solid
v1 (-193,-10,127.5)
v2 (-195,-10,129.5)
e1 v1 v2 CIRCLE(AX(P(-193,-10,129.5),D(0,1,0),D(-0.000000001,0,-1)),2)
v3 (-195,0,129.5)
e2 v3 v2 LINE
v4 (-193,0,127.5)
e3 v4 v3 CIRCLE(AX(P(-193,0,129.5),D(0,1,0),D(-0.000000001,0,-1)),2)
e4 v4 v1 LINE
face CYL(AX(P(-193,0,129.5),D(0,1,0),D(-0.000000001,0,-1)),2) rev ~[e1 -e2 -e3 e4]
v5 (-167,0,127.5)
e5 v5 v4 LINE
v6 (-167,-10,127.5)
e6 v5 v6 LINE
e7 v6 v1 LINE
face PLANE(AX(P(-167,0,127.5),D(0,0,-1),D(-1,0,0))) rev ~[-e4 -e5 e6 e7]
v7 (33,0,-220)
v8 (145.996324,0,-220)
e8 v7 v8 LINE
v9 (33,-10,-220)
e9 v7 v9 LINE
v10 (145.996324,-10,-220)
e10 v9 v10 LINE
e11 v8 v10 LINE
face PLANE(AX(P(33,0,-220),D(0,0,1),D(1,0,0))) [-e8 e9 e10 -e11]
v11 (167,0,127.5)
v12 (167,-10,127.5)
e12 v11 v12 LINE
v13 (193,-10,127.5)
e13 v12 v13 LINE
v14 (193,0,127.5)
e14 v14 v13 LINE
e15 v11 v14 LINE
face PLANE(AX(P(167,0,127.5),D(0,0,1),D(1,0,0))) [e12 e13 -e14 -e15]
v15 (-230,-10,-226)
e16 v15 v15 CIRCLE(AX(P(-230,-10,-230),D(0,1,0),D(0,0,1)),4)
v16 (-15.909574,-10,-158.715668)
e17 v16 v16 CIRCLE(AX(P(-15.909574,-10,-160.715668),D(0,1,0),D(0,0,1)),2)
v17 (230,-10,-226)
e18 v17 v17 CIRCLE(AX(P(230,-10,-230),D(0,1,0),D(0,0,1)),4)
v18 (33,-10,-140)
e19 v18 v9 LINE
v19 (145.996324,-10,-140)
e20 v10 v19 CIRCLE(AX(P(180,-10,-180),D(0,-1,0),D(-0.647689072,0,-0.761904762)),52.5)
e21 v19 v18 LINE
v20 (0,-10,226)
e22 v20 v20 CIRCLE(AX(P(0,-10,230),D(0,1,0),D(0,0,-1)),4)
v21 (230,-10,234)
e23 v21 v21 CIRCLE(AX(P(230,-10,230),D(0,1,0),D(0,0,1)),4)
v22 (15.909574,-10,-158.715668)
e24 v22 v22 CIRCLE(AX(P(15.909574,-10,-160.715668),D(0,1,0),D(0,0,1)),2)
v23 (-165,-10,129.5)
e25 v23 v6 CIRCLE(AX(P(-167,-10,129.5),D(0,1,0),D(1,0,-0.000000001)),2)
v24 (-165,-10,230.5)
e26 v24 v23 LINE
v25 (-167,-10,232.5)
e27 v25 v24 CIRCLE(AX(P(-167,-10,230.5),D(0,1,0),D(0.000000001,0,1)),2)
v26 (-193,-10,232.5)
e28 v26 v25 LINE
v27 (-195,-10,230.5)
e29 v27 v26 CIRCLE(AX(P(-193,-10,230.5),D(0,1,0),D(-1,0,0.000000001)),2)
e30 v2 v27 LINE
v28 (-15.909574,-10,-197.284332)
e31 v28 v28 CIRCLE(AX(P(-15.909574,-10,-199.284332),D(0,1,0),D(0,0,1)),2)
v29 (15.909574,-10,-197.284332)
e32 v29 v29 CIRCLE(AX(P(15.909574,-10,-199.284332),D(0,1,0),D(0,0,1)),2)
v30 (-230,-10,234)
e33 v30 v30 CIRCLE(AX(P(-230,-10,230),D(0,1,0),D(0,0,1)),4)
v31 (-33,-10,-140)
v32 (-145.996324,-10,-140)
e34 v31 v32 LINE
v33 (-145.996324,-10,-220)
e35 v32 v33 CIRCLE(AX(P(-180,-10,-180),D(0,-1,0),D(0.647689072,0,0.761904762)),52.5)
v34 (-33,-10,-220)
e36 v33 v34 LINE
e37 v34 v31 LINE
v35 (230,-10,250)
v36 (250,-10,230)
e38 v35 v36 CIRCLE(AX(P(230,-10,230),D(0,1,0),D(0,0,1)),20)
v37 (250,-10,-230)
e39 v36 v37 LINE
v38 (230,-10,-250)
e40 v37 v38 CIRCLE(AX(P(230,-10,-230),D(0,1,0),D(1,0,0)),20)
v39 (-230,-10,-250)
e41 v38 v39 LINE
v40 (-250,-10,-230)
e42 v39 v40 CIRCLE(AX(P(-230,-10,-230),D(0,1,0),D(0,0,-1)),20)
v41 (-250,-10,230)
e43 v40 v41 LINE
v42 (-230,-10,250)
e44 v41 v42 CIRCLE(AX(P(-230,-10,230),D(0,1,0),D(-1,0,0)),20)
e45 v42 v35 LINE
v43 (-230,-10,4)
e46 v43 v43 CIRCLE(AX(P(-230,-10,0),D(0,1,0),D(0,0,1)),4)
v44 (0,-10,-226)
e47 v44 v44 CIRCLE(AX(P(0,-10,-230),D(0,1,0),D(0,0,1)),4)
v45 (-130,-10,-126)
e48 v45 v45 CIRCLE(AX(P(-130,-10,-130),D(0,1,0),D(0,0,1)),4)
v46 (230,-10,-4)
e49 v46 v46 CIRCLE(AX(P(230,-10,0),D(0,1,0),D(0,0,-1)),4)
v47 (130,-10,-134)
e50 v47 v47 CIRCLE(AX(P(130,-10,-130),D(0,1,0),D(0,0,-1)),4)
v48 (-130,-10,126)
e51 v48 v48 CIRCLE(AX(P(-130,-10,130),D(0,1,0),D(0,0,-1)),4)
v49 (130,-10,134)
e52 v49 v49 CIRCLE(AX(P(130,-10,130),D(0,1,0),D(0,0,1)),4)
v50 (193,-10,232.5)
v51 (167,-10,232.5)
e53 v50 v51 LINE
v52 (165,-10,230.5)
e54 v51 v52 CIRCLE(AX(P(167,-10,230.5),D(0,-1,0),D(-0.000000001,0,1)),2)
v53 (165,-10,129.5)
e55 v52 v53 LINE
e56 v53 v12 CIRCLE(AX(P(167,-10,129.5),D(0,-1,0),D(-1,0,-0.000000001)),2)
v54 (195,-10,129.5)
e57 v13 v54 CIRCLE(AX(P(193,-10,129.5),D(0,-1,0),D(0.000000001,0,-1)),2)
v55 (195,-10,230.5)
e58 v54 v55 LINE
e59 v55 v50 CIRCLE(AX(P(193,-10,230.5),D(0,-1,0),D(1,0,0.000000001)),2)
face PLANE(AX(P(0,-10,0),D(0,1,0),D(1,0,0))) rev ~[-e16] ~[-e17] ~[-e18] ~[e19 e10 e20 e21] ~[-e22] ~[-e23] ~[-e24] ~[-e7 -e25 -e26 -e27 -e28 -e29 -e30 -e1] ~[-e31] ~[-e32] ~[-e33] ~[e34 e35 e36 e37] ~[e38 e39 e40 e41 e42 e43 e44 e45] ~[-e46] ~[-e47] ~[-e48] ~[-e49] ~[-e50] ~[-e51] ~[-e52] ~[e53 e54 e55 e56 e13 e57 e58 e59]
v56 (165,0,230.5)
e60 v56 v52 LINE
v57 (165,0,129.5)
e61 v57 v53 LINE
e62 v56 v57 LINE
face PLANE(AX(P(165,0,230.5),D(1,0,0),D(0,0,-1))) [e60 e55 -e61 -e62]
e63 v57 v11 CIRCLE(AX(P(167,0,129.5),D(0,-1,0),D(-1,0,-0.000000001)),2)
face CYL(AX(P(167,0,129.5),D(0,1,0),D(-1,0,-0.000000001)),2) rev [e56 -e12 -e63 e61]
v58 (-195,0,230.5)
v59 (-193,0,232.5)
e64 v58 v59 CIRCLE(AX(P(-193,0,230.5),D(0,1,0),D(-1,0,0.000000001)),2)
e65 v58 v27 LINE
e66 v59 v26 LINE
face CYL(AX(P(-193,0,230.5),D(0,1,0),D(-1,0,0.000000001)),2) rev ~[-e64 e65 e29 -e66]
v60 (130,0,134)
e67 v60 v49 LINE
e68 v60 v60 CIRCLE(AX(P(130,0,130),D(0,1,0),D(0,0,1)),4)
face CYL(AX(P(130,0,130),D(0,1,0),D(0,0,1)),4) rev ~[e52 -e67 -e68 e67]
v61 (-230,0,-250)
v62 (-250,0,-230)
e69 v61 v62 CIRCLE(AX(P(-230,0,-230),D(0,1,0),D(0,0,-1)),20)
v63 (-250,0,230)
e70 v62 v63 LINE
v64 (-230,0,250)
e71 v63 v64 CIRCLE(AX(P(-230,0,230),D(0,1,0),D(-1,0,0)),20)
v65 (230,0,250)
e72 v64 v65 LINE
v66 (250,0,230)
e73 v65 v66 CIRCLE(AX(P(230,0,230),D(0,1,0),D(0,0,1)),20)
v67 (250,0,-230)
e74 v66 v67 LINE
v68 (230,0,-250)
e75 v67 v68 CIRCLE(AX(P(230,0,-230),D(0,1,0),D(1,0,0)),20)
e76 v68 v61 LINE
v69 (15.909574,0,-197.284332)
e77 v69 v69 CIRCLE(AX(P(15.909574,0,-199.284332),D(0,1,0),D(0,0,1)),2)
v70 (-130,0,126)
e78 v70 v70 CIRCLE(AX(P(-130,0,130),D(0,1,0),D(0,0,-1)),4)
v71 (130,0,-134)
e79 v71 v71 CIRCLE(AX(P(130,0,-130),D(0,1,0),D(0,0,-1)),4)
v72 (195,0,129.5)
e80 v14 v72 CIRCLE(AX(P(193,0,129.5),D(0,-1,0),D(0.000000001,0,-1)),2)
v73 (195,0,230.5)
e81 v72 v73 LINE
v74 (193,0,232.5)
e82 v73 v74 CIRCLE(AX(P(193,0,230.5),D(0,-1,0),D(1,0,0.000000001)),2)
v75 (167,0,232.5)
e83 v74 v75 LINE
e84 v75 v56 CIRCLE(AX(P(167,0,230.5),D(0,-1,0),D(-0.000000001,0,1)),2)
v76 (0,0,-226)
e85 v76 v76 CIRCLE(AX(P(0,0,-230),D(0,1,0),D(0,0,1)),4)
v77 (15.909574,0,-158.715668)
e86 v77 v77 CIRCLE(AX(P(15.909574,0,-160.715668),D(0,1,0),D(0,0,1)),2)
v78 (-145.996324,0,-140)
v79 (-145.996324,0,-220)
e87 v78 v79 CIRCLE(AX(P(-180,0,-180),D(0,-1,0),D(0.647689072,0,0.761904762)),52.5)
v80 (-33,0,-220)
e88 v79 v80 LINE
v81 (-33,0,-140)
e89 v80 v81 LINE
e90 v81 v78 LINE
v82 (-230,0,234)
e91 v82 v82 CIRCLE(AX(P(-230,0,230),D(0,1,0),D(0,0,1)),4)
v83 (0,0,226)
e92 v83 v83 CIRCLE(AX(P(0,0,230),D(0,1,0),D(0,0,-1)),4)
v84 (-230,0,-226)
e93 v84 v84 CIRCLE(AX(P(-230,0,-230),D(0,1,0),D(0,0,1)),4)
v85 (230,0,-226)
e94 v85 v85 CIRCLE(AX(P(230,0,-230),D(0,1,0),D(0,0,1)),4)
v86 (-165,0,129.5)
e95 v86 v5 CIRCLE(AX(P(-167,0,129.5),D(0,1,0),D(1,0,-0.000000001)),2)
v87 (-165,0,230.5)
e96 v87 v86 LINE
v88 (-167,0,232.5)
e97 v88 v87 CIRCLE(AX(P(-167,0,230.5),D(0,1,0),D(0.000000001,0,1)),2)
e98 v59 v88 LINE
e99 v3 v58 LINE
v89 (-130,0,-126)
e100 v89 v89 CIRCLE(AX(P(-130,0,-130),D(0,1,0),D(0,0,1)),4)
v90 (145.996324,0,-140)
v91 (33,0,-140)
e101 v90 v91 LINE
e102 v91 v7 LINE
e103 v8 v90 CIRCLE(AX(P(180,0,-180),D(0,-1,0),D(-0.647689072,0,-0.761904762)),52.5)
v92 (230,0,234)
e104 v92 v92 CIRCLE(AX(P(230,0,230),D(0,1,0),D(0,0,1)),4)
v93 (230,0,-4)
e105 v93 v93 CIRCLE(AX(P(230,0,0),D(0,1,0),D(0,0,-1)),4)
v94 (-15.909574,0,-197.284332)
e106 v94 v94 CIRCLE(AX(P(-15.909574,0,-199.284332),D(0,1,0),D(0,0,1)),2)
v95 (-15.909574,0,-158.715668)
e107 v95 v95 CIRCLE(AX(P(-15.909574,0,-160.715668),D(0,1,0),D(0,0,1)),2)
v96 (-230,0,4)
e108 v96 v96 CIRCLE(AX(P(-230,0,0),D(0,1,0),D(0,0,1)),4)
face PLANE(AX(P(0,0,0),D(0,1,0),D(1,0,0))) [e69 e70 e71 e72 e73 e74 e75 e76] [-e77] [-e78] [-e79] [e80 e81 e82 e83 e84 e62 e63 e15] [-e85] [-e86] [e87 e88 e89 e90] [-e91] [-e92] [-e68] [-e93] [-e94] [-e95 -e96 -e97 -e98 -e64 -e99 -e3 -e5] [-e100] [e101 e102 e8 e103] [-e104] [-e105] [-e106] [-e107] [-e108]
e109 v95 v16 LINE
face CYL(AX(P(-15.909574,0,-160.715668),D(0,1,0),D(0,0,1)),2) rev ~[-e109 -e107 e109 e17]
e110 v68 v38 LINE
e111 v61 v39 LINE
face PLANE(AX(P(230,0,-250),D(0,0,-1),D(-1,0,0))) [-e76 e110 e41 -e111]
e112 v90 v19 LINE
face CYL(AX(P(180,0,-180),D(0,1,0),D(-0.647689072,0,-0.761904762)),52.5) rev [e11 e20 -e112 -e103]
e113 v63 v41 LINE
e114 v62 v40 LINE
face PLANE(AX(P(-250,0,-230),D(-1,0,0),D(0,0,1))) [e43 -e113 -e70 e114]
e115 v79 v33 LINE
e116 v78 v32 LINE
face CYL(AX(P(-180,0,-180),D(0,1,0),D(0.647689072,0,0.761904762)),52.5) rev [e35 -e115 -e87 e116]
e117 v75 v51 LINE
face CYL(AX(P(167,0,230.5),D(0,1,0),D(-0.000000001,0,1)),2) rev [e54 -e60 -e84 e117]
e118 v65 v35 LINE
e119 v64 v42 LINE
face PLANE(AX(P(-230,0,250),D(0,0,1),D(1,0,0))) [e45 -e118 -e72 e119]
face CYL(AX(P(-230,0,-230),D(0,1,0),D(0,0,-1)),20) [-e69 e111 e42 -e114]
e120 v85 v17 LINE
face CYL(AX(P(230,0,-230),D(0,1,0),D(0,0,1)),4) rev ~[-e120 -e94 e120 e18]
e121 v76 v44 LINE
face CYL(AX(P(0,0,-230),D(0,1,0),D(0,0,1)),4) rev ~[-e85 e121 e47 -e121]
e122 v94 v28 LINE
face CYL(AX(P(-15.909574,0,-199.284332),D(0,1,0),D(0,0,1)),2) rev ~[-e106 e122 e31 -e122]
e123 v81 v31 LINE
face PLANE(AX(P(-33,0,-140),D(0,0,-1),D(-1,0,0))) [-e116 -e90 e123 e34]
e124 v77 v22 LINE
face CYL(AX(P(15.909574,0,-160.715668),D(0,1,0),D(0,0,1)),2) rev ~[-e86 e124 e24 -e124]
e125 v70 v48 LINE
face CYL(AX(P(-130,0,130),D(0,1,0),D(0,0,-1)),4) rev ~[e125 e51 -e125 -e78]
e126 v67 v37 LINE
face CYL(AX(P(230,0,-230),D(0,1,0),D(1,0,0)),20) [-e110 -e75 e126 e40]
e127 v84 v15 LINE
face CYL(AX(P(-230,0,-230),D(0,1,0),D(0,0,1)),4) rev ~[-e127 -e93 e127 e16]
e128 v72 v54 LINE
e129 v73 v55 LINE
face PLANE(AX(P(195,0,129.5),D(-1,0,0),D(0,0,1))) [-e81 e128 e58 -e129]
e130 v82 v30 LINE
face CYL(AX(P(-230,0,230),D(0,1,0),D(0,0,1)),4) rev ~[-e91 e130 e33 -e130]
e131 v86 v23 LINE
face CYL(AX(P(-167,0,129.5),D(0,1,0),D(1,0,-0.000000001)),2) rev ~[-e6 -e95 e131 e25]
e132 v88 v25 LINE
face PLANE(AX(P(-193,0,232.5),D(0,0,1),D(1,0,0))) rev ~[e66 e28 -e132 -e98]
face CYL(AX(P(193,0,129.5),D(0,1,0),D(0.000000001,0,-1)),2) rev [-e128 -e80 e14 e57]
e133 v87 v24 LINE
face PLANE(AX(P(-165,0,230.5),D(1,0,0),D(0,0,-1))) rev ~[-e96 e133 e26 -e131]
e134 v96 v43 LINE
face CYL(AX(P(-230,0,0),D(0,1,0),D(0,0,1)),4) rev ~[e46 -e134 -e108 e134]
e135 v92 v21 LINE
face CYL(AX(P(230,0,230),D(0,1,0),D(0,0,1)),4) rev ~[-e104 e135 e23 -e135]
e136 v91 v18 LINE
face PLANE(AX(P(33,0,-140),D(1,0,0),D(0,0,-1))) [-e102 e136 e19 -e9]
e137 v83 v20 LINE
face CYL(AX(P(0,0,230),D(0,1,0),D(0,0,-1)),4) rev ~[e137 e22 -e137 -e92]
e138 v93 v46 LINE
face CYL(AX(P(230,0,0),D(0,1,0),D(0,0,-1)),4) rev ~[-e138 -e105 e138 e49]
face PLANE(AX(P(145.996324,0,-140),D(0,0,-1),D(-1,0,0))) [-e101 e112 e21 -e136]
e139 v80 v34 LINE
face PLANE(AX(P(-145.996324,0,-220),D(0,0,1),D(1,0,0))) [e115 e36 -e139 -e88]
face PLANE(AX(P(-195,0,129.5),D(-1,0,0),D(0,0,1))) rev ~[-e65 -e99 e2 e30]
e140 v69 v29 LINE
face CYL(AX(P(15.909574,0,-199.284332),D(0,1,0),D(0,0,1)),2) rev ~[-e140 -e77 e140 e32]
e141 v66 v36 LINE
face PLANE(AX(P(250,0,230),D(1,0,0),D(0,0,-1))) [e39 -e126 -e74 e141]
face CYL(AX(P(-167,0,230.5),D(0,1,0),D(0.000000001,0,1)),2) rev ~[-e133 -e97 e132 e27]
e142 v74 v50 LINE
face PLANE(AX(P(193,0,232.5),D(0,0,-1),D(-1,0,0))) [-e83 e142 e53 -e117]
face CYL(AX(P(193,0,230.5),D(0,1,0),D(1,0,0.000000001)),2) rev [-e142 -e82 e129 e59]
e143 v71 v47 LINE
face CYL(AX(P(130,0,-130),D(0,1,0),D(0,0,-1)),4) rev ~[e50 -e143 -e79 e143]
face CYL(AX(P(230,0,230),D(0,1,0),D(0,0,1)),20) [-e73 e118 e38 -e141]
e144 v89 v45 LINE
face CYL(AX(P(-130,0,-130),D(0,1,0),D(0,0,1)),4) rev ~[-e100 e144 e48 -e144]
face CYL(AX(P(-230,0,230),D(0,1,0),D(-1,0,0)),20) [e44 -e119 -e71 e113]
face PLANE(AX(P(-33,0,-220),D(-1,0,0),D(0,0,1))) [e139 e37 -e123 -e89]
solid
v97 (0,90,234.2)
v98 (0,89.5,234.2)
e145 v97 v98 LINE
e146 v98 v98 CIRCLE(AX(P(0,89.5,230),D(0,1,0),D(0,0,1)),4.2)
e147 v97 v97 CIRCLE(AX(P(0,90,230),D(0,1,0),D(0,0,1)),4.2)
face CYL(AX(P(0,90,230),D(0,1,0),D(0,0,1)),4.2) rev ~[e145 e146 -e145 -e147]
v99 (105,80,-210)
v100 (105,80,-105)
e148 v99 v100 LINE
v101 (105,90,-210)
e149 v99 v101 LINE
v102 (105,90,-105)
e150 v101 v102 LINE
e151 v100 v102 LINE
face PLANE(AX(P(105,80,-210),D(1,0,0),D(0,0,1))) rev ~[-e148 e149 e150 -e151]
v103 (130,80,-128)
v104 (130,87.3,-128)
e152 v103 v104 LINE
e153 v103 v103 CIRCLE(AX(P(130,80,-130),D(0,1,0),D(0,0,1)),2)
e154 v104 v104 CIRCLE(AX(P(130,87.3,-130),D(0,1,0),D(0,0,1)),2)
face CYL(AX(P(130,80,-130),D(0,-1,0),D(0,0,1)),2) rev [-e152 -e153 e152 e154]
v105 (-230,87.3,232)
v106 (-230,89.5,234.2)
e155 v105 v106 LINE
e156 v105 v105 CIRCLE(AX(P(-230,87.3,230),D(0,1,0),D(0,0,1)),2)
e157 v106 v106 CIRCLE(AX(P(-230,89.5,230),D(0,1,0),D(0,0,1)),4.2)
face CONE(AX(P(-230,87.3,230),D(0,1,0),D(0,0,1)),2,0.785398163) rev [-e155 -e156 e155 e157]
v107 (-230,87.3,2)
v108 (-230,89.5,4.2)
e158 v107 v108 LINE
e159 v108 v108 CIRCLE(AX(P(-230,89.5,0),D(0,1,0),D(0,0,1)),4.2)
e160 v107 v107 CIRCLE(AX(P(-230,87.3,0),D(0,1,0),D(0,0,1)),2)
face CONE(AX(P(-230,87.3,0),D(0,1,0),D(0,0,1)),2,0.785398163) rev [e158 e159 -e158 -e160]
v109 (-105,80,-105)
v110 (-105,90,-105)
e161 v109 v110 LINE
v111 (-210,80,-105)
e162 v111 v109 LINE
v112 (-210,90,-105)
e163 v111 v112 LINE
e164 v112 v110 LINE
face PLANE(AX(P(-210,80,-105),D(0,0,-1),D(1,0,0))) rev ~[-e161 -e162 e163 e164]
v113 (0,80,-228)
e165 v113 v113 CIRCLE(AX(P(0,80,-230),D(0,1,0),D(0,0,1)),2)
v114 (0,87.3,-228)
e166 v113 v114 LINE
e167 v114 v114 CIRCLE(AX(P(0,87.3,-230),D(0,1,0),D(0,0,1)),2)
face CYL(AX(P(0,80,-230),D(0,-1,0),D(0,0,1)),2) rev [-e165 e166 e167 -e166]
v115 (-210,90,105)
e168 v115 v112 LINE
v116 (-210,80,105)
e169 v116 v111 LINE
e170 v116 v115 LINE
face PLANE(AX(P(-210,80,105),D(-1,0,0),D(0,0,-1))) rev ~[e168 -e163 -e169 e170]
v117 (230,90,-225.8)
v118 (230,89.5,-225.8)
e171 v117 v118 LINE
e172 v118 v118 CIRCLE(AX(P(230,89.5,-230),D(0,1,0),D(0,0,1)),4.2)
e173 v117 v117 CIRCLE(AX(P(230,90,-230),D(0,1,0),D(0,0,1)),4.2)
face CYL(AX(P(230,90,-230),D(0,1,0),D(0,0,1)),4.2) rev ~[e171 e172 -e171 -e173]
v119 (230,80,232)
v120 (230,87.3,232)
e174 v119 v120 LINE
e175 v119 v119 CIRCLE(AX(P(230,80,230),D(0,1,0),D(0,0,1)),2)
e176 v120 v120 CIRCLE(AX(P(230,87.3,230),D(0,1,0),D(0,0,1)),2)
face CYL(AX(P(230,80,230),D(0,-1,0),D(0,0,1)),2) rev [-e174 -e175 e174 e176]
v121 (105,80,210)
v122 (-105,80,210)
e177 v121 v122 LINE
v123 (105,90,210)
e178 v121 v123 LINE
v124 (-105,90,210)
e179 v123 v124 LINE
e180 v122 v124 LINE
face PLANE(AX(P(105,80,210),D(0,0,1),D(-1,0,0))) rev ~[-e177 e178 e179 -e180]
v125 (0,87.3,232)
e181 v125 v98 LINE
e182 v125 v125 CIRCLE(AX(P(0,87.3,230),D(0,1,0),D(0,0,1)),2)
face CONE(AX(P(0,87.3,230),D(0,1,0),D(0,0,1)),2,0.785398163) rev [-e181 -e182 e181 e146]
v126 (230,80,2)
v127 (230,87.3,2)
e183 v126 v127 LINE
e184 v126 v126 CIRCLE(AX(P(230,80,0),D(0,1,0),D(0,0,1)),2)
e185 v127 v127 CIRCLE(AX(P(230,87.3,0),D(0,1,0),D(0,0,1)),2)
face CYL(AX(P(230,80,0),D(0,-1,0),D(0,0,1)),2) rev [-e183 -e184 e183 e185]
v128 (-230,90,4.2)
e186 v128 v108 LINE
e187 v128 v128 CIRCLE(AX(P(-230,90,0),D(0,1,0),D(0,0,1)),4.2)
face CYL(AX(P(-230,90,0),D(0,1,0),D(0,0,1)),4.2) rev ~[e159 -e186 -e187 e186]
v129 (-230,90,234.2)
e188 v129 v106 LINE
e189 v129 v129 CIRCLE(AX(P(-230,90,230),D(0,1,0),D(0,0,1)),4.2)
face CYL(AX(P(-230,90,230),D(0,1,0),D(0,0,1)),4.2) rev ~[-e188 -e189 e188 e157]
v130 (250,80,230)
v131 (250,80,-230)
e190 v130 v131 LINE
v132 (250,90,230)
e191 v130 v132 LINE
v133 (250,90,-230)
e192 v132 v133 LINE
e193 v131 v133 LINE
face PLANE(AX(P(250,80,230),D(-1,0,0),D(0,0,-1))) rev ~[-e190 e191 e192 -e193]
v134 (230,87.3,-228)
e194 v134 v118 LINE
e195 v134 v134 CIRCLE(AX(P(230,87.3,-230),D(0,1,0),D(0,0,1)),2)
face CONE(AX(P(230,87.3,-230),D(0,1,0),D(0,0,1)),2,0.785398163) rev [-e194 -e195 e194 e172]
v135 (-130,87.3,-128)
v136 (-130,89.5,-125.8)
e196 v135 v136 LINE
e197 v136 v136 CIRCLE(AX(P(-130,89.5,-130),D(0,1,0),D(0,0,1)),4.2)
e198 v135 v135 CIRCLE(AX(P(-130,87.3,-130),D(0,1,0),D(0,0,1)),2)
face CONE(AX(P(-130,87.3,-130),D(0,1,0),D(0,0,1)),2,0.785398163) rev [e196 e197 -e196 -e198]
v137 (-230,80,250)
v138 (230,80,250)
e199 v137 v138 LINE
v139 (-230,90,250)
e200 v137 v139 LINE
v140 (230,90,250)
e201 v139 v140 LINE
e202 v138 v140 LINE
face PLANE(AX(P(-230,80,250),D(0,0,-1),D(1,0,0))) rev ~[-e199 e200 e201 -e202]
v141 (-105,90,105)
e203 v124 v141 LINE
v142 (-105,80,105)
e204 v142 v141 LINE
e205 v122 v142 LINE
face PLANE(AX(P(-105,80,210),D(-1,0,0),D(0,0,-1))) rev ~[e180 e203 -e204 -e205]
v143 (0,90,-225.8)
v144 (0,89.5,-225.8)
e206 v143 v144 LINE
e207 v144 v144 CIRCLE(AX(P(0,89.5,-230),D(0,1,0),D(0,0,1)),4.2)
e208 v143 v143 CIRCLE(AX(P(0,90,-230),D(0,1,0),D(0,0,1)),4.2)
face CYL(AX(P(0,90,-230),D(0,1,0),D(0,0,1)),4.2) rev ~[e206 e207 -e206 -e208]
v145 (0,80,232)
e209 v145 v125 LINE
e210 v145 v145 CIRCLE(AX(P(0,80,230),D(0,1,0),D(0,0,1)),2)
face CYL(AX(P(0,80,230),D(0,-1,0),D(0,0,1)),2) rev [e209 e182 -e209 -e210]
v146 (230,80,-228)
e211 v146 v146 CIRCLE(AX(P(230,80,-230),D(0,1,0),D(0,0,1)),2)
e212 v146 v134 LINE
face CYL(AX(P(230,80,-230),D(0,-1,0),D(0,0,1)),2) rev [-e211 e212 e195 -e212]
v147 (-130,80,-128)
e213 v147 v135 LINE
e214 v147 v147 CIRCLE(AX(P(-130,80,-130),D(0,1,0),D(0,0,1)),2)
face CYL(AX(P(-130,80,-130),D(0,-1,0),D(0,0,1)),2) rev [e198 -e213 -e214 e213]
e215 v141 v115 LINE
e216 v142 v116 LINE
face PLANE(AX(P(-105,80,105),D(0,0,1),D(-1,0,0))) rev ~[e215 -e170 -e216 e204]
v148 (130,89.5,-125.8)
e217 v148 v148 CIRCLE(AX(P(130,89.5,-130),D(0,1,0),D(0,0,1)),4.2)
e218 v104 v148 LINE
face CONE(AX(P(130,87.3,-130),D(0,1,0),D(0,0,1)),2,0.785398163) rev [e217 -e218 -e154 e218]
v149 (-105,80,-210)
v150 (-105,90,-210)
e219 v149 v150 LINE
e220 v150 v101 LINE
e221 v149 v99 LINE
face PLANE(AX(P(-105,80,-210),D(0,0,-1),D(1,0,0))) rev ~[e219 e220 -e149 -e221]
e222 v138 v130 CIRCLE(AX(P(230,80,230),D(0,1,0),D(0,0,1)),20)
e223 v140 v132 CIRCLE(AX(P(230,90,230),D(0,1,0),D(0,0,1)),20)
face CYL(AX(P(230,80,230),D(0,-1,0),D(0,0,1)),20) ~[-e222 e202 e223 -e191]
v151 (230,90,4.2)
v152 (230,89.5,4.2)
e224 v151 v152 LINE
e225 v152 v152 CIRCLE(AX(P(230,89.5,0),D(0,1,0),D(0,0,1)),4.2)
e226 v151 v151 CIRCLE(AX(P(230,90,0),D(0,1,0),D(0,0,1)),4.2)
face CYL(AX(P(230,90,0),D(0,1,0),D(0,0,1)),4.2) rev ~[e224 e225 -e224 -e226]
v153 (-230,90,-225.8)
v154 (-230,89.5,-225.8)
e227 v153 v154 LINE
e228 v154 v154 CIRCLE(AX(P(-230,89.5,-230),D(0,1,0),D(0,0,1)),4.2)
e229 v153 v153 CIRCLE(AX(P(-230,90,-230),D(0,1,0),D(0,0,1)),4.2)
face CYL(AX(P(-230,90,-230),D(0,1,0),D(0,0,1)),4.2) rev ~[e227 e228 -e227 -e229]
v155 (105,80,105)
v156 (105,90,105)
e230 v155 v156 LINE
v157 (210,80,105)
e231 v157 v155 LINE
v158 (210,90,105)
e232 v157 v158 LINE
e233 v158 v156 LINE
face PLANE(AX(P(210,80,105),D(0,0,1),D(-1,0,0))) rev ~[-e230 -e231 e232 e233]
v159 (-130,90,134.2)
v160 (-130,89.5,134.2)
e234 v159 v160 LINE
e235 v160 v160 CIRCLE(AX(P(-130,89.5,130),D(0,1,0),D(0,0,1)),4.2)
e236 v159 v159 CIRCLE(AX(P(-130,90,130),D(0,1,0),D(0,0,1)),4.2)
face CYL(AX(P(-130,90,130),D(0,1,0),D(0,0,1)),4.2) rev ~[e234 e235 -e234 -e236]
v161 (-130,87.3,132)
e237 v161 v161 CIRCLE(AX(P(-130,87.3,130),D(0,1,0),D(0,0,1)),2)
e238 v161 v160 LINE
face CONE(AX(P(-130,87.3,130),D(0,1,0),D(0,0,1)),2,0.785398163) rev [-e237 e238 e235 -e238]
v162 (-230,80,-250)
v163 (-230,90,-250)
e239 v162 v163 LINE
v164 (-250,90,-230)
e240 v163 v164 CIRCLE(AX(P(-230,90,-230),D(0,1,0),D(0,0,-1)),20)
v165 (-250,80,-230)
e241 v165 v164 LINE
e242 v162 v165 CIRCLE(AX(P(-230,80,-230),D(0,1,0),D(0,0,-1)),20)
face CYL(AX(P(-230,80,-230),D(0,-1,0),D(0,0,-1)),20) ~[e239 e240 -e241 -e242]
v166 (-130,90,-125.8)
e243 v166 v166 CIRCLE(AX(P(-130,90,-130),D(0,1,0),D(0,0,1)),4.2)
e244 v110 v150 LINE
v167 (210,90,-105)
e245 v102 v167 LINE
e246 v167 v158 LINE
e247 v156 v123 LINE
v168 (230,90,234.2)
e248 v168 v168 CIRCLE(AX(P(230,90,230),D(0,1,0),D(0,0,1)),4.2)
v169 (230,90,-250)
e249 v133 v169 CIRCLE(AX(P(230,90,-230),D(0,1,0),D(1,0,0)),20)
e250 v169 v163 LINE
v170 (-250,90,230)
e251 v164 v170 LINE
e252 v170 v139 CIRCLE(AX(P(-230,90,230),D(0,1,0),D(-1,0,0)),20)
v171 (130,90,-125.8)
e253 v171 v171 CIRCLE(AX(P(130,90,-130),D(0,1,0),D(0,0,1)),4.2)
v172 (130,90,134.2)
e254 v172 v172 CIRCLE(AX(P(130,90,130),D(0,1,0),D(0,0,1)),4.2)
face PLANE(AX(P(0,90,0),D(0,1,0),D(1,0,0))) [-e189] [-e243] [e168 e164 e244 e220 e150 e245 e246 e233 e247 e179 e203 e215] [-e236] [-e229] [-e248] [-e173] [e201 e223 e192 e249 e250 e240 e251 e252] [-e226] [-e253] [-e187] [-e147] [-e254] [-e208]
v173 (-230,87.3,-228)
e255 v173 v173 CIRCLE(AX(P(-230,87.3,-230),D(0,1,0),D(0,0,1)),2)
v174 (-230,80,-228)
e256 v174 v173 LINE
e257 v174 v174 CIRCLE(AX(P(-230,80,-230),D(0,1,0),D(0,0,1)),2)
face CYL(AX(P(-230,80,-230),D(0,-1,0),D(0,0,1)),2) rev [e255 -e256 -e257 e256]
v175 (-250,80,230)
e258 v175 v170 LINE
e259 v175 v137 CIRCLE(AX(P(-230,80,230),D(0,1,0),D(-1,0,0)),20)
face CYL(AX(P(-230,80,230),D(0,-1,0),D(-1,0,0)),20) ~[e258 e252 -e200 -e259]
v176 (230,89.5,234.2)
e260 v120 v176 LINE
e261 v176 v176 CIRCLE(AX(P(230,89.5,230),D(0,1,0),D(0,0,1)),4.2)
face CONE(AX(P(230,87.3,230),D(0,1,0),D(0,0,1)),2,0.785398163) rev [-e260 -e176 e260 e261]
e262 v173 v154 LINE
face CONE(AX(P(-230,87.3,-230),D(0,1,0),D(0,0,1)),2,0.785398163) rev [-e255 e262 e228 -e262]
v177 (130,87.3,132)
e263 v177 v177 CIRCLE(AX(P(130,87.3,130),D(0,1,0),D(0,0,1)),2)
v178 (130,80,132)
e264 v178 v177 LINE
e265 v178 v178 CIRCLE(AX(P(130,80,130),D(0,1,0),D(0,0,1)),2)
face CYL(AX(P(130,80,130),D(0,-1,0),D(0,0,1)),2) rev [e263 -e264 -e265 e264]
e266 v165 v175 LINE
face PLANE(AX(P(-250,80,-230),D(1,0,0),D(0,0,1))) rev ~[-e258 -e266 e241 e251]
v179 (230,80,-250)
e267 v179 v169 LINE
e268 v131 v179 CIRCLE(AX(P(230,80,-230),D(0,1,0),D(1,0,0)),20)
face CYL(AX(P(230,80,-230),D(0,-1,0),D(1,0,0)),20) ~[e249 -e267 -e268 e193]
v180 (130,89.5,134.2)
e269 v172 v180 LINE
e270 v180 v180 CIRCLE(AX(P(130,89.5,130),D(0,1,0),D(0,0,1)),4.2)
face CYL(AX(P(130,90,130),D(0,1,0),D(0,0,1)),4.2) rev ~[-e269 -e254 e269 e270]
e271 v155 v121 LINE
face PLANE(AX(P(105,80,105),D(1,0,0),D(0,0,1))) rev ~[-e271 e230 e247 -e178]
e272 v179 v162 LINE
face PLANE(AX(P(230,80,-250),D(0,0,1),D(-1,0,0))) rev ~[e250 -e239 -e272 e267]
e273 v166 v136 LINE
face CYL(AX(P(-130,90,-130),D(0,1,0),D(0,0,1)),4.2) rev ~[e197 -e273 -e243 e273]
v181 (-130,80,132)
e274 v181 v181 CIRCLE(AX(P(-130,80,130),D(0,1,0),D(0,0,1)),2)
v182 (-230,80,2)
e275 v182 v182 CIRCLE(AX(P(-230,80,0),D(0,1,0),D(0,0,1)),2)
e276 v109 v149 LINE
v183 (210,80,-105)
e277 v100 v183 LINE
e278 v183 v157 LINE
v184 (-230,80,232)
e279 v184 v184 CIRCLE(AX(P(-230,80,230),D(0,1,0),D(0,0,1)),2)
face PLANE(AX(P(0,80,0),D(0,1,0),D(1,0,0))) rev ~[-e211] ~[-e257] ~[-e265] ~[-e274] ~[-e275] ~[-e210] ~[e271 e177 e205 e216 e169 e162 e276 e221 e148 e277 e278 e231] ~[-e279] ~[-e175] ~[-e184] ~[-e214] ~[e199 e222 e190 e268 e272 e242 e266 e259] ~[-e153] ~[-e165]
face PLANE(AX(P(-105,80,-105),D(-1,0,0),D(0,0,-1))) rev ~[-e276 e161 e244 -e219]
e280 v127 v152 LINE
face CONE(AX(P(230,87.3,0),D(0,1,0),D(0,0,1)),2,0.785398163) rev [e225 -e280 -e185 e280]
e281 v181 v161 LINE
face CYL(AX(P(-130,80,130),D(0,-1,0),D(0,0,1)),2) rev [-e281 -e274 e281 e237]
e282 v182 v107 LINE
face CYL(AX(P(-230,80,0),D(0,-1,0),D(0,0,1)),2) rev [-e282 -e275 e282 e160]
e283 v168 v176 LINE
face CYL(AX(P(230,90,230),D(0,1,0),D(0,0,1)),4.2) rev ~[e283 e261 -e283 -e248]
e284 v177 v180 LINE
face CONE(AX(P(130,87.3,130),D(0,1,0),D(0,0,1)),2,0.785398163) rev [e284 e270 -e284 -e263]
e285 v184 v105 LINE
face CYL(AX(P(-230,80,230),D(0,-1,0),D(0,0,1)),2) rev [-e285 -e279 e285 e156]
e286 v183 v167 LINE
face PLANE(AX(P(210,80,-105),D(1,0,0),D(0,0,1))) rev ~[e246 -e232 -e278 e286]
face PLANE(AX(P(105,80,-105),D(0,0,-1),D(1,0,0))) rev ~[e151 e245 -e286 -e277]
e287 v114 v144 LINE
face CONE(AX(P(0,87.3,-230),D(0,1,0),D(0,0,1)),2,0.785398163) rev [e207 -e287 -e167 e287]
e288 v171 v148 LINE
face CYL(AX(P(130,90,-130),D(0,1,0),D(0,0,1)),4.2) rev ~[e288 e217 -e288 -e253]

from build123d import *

# Parameters (mm, degrees)
SKETCH1_R                     = 4
SKETCH1_R_2                   = 2
BOSS_EXTRUDE1_DEPTH           = 10
SKETCH3_R                     = 2
BOSS_EXTRUDE2_DEPTH           = 10
SKETCH8_R                     = 4.2
CUT_EXTRUDE3_DEPTH            = 0.5
SKETCH10_R                    = 2
CUT_EXTRUDE4_DEPTH            = 2.2
CUT_EXTRUDE4_DRAFT            = -45
CUT_EXTRUDE4_PROFILE_2_DEPTH  = 2.2
CUT_EXTRUDE4_PROFILE_2_DRAFT  = -45
CUT_EXTRUDE4_PROFILE_3_DEPTH  = 2.2
CUT_EXTRUDE4_PROFILE_3_DRAFT  = -45
CUT_EXTRUDE4_PROFILE_4_DEPTH  = 2.2
CUT_EXTRUDE4_PROFILE_4_DRAFT  = -45
CUT_EXTRUDE4_PROFILE_5_DEPTH  = 2.2
CUT_EXTRUDE4_PROFILE_5_DRAFT  = -45
CUT_EXTRUDE4_PROFILE_6_DEPTH  = 2.2
CUT_EXTRUDE4_PROFILE_6_DRAFT  = -45
CUT_EXTRUDE4_PROFILE_7_DEPTH  = 2.2
CUT_EXTRUDE4_PROFILE_7_DRAFT  = -45
CUT_EXTRUDE4_PROFILE_8_DEPTH  = 2.2
CUT_EXTRUDE4_PROFILE_8_DRAFT  = -45
CUT_EXTRUDE4_PROFILE_9_DEPTH  = 2.2
CUT_EXTRUDE4_PROFILE_9_DRAFT  = -45
CUT_EXTRUDE4_PROFILE_10_DEPTH = 2.2
CUT_EXTRUDE4_PROFILE_10_DRAFT = -45
CUT_EXTRUDE4_PROFILE_11_DEPTH = 2.2
CUT_EXTRUDE4_PROFILE_11_DRAFT = -45
CUT_EXTRUDE4_PROFILE_12_DEPTH = 2.2
CUT_EXTRUDE4_PROFILE_12_DRAFT = -45


with BuildPart() as part:
    # Sketch1 → Boss-Extrude1 (new body)
    with BuildSketch(Plane(origin=(0, 0, 0), x_dir=(1, 0, 0), z_dir=(0, 1, 0))):
        with BuildLine():
            Line((-230, -250), (230, -250))
            ThreePointArc((230, -250), (244.142135624, -244.142135624), (250, -230))
            Line((250, -230), (250, 230))
            ThreePointArc((250, 230), (244.142135624, 244.142135624), (230, 250))
            Line((230, 250), (-230, 250))
            ThreePointArc((-230, 250), (-244.142135624, 244.142135624), (-250, 230))
            Line((-250, 230), (-250, -230))
            ThreePointArc((-250, -230), (-244.142135624, -244.142135624), (-230, -250))
        make_face()
        with Locations(Location((-230, 230, 0), (0, 0, 270))):
            Circle(SKETCH1_R, mode=Mode.SUBTRACT)
        with Locations(Location((230, 230, 0), (0, 0, 270))):
            Circle(SKETCH1_R, mode=Mode.SUBTRACT)
        with Locations(Location((230, -230, 0), (0, 0, 270))):
            Circle(SKETCH1_R, mode=Mode.SUBTRACT)
        with Locations(Location((-230, -230, 0), (0, 0, 270))):
            Circle(SKETCH1_R, mode=Mode.SUBTRACT)
        with Locations(Location((0, 230, 0), (0, 0, 270))):
            Circle(SKETCH1_R, mode=Mode.SUBTRACT)
        with Locations(Location((-230, 0, 0), (0, 0, 270))):
            Circle(SKETCH1_R, mode=Mode.SUBTRACT)
        with Locations(Location((230, 0, 0), (0, 0, 90))):
            Circle(SKETCH1_R, mode=Mode.SUBTRACT)
        with Locations(Location((0, -230, 0), (0, 0, 90))):
            Circle(SKETCH1_R, mode=Mode.SUBTRACT)
        with Locations(Location((-130, 130, 0), (0, 0, 270))):
            Circle(SKETCH1_R, mode=Mode.SUBTRACT)
        with Locations(Location((130, 130, 0), (0, 0, 90))):
            Circle(SKETCH1_R, mode=Mode.SUBTRACT)
        with Locations(Location((-130, -130, 0), (0, 0, 90))):
            Circle(SKETCH1_R, mode=Mode.SUBTRACT)
        with Locations(Location((130, -130, 0), (0, 0, 270))):
            Circle(SKETCH1_R, mode=Mode.SUBTRACT)
        with Locations(Location((15.90957387, 199.284331964, 0), (0, 0, 270))):
            Circle(SKETCH1_R_2, mode=Mode.SUBTRACT)
        with Locations(Location((15.90957387, 160.715668036, 0), (0, 0, 270))):
            Circle(SKETCH1_R_2, mode=Mode.SUBTRACT)
        with Locations(Location((-15.90957387, 160.715668036, 0), (0, 0, 270))):
            Circle(SKETCH1_R_2, mode=Mode.SUBTRACT)
        with Locations(Location((-15.90957387, 199.284331964, 0), (0, 0, 270))):
            Circle(SKETCH1_R_2, mode=Mode.SUBTRACT)
        with BuildLine():
            Line((-193, -232.5), (-167, -232.5))
            ThreePointArc((-167, -232.5), (-165.585786438, -231.914213562), (-165, -230.5))
            Line((-165, -230.5), (-165, -129.5))
            ThreePointArc((-165, -129.5), (-165.585786438, -128.085786438), (-167, -127.5))
            Line((-167, -127.5), (-193, -127.5))
            ThreePointArc((-193, -127.5), (-194.414213562, -128.085786438), (-195, -129.5))
            Line((-195, -129.5), (-195, -230.5))
            ThreePointArc((-195, -230.5), (-194.414213562, -231.914213562), (-193, -232.5))
        make_face(mode=Mode.SUBTRACT)
        with BuildLine():
            Line((193, -232.5), (167, -232.5))
            ThreePointArc((167, -232.5), (165.585786438, -231.914213562), (165, -230.5))
            Line((165, -230.5), (165, -129.5))
            ThreePointArc((165, -129.5), (165.585786438, -128.085786438), (167, -127.5))
            Line((167, -127.5), (193, -127.5))
            ThreePointArc((193, -127.5), (194.414213562, -128.085786438), (195, -129.5))
            Line((195, -129.5), (195, -230.5))
            ThreePointArc((195, -230.5), (194.414213562, -231.914213562), (193, -232.5))
        make_face(mode=Mode.SUBTRACT)
        with BuildLine():
            Line((33, 220), (145.996323728, 220))
            ThreePointArc((145.996323728, 220), (232.5, 180), (145.996323728, 140))
            Line((145.996323728, 140), (33, 140))
            Line((33, 140), (33, 220))
        make_face(mode=Mode.SUBTRACT)
        with BuildLine():
            Line((-33, 220), (-33, 140))
            Line((-33, 140), (-145.996323728, 140))
            ThreePointArc((-145.996323728, 140), (-232.5, 180), (-145.996323728, 220))
            Line((-145.996323728, 220), (-33, 220))
        make_face(mode=Mode.SUBTRACT)
    extrude(amount=-BOSS_EXTRUDE1_DEPTH)


with BuildPart() as body_2:
    # Sketch3 → Boss-Extrude2 (new body)
    with BuildSketch(Plane(origin=(0, 80, 0), x_dir=(1, 0, 0), z_dir=(0, 1, 0))):
        with BuildLine():
            ThreePointArc((-250, -230), (-244.142135624, -244.142135624), (-230, -250))
            Line((-230, -250), (230, -250))
            ThreePointArc((230, -250), (244.142135624, -244.142135624), (250, -230))
            Line((250, -230), (250, 230))
            ThreePointArc((250, 230), (244.142135624, 244.142135624), (230, 250))
            Line((230, 250), (-230, 250))
            ThreePointArc((-230, 250), (-244.142135624, 244.142135624), (-250, 230))
            Line((-250, 230), (-250, -230))
        make_face()
        with Locations(Location((-230, -230, 0), (0, 0, 270))):
            Circle(SKETCH3_R, mode=Mode.SUBTRACT)
        with Locations(Location((-130, -130, 0), (0, 0, 270))):
            Circle(SKETCH3_R, mode=Mode.SUBTRACT)
        with Locations(Location((0, -230, 0), (0, 0, 270))):
            Circle(SKETCH3_R, mode=Mode.SUBTRACT)
        with Locations(Location((-230, 0, 0), (0, 0, 270))):
            Circle(SKETCH3_R, mode=Mode.SUBTRACT)
        with Locations(Location((230, -230, 0), (0, 0, 270))):
            Circle(SKETCH3_R, mode=Mode.SUBTRACT)
        with Locations(Location((130, -130, 0), (0, 0, 270))):
            Circle(SKETCH3_R, mode=Mode.SUBTRACT)
        Polygon((105, -210), (-105, -210), (-105, -105), (-210, -105), (-210, 105), (-105, 105), (-105, 210), (105, 210), (105, 105), (210, 105), (210, -105), (105, -105), align=None, mode=Mode.SUBTRACT)
        with Locations(Location((230, 0, 0), (0, 0, 270))):
            Circle(SKETCH3_R, mode=Mode.SUBTRACT)
        with Locations(Location((-130, 130, 0), (0, 0, 270))):
            Circle(SKETCH3_R, mode=Mode.SUBTRACT)
        with Locations(Location((-230, 230, 0), (0, 0, 270))):
            Circle(SKETCH3_R, mode=Mode.SUBTRACT)
        with Locations(Location((0, 230, 0), (0, 0, 270))):
            Circle(SKETCH3_R, mode=Mode.SUBTRACT)
        with Locations(Location((130, 130, 0), (0, 0, 270))):
            Circle(SKETCH3_R, mode=Mode.SUBTRACT)
        with Locations(Location((230, 230, 0), (0, 0, 270))):
            Circle(SKETCH3_R, mode=Mode.SUBTRACT)
    extrude(amount=BOSS_EXTRUDE2_DEPTH)

    # Sketch8 → Cut-Extrude3 (cut)
    with BuildSketch(Plane(origin=(0, 90, 0), x_dir=(1, 0, 0), z_dir=(0, 1, 0))):
        with Locations(Location((-230, 230, 0), (0, 0, 270))):
            Circle(SKETCH8_R)
        with Locations(Location((0, 230, 0), (0, 0, 270))):
            Circle(SKETCH8_R)
        with Locations(Location((230, 230, 0), (0, 0, 270))):
            Circle(SKETCH8_R)
        with Locations(Location((-130, 130, 0), (0, 0, 270))):
            Circle(SKETCH8_R)
        with Locations(Location((-230, 0, 0), (0, 0, 270))):
            Circle(SKETCH8_R)
        with Locations(Location((-130, -130, 0), (0, 0, 270))):
            Circle(SKETCH8_R)
        with Locations(Location((130, 130, 0), (0, 0, 270))):
            Circle(SKETCH8_R)
        with Locations(Location((230, 0, 0), (0, 0, 270))):
            Circle(SKETCH8_R)
        with Locations(Location((130, -130, 0), (0, 0, 270))):
            Circle(SKETCH8_R)
        with Locations(Location((230, -230, 0), (0, 0, 270))):
            Circle(SKETCH8_R)
        with Locations(Location((0, -230, 0), (0, 0, 270))):
            Circle(SKETCH8_R)
        with Locations(Location((-230, -230, 0), (0, 0, 270))):
            Circle(SKETCH8_R)
    extrude(amount=-CUT_EXTRUDE3_DEPTH, mode=Mode.SUBTRACT)


with BuildPart() as cut_extrude4_tool:
    # Sketch10 → Cut-Extrude4 (with draft: the straight prism first)
    with BuildSketch(Plane(origin=(0, 87.3, 0), x_dir=(1, 0, 0), z_dir=(0, 1, 0))):
        with Locations(Location((-230, -230, 0), (0, 0, 270))):
            Circle(SKETCH10_R)
    extrude(amount=CUT_EXTRUDE4_DEPTH)
    # Cut-Extrude4: the draft: its side faces are tilted about the plane it starts from
    cut_extrude4_sides = [cut_extrude4_tool.faces().sort_by_distance(p)[0] for p in [
        (-230, 88.4, 228),
    ]]
    draft(cut_extrude4_sides, Plane(origin=(0, 87.3, 0), x_dir=(1, 0, 0), z_dir=(0, 1, 0)), CUT_EXTRUDE4_DRAFT)


with BuildPart() as body_2_1:
    add(body_2.part)

    # Cut-Extrude4: cut by cut_extrude4_tool
    add(cut_extrude4_tool.part, mode=Mode.SUBTRACT)


with BuildPart() as cut_extrude4_profile_2_tool:
    # Sketch10 → Cut-Extrude4 profile 2 (with draft: the straight prism first)
    with BuildSketch(Plane(origin=(0, 87.3, 0), x_dir=(1, 0, 0), z_dir=(0, 1, 0))):
        with Locations(Location((-130, -130, 0), (0, 0, 270))):
            Circle(SKETCH10_R)
    extrude(amount=CUT_EXTRUDE4_PROFILE_2_DEPTH)
    # Cut-Extrude4 profile 2: the draft: its side faces are tilted about the plane it starts from
    cut_extrude4_profile_2_sides = [cut_extrude4_profile_2_tool.faces().sort_by_distance(p)[0] for p in [
        (-130, 88.4, 128),
    ]]
    draft(cut_extrude4_profile_2_sides, Plane(origin=(0, 87.3, 0), x_dir=(1, 0, 0), z_dir=(0, 1, 0)), CUT_EXTRUDE4_PROFILE_2_DRAFT)


with BuildPart() as body_2_2:
    add(body_2_1.part)

    # Cut-Extrude4 profile 2: cut by cut_extrude4_profile_2_tool
    add(cut_extrude4_profile_2_tool.part, mode=Mode.SUBTRACT)


with BuildPart() as cut_extrude4_profile_3_tool:
    # Sketch10 → Cut-Extrude4 profile 3 (with draft: the straight prism first)
    with BuildSketch(Plane(origin=(0, 87.3, 0), x_dir=(1, 0, 0), z_dir=(0, 1, 0))):
        with Locations(Location((0, -230, 0), (0, 0, 270))):
            Circle(SKETCH10_R)
    extrude(amount=CUT_EXTRUDE4_PROFILE_3_DEPTH)
    # Cut-Extrude4 profile 3: the draft: its side faces are tilted about the plane it starts from
    cut_extrude4_profile_3_sides = [cut_extrude4_profile_3_tool.faces().sort_by_distance(p)[0] for p in [
        (0, 88.4, 228),
    ]]
    draft(cut_extrude4_profile_3_sides, Plane(origin=(0, 87.3, 0), x_dir=(1, 0, 0), z_dir=(0, 1, 0)), CUT_EXTRUDE4_PROFILE_3_DRAFT)


with BuildPart() as body_2_3:
    add(body_2_2.part)

    # Cut-Extrude4 profile 3: cut by cut_extrude4_profile_3_tool
    add(cut_extrude4_profile_3_tool.part, mode=Mode.SUBTRACT)


with BuildPart() as cut_extrude4_profile_4_tool:
    # Sketch10 → Cut-Extrude4 profile 4 (with draft: the straight prism first)
    with BuildSketch(Plane(origin=(0, 87.3, 0), x_dir=(1, 0, 0), z_dir=(0, 1, 0))):
        with Locations(Location((230, -230, 0), (0, 0, 270))):
            Circle(SKETCH10_R)
    extrude(amount=CUT_EXTRUDE4_PROFILE_4_DEPTH)
    # Cut-Extrude4 profile 4: the draft: its side faces are tilted about the plane it starts from
    cut_extrude4_profile_4_sides = [cut_extrude4_profile_4_tool.faces().sort_by_distance(p)[0] for p in [
        (230, 88.4, 228),
    ]]
    draft(cut_extrude4_profile_4_sides, Plane(origin=(0, 87.3, 0), x_dir=(1, 0, 0), z_dir=(0, 1, 0)), CUT_EXTRUDE4_PROFILE_4_DRAFT)


with BuildPart() as body_2_4:
    add(body_2_3.part)

    # Cut-Extrude4 profile 4: cut by cut_extrude4_profile_4_tool
    add(cut_extrude4_profile_4_tool.part, mode=Mode.SUBTRACT)


with BuildPart() as cut_extrude4_profile_5_tool:
    # Sketch10 → Cut-Extrude4 profile 5 (with draft: the straight prism first)
    with BuildSketch(Plane(origin=(0, 87.3, 0), x_dir=(1, 0, 0), z_dir=(0, 1, 0))):
        with Locations(Location((130, -130, 0), (0, 0, 270))):
            Circle(SKETCH10_R)
    extrude(amount=CUT_EXTRUDE4_PROFILE_5_DEPTH)
    # Cut-Extrude4 profile 5: the draft: its side faces are tilted about the plane it starts from
    cut_extrude4_profile_5_sides = [cut_extrude4_profile_5_tool.faces().sort_by_distance(p)[0] for p in [
        (130, 88.4, 128),
    ]]
    draft(cut_extrude4_profile_5_sides, Plane(origin=(0, 87.3, 0), x_dir=(1, 0, 0), z_dir=(0, 1, 0)), CUT_EXTRUDE4_PROFILE_5_DRAFT)


with BuildPart() as body_2_5:
    add(body_2_4.part)

    # Cut-Extrude4 profile 5: cut by cut_extrude4_profile_5_tool
    add(cut_extrude4_profile_5_tool.part, mode=Mode.SUBTRACT)


with BuildPart() as cut_extrude4_profile_6_tool:
    # Sketch10 → Cut-Extrude4 profile 6 (with draft: the straight prism first)
    with BuildSketch(Plane(origin=(0, 87.3, 0), x_dir=(1, 0, 0), z_dir=(0, 1, 0))):
        with Locations(Location((230, 0, 0), (0, 0, 270))):
            Circle(SKETCH10_R)
    extrude(amount=CUT_EXTRUDE4_PROFILE_6_DEPTH)
    # Cut-Extrude4 profile 6: the draft: its side faces are tilted about the plane it starts from
    cut_extrude4_profile_6_sides = [cut_extrude4_profile_6_tool.faces().sort_by_distance(p)[0] for p in [
        (230, 88.4, -2),
    ]]
    draft(cut_extrude4_profile_6_sides, Plane(origin=(0, 87.3, 0), x_dir=(1, 0, 0), z_dir=(0, 1, 0)), CUT_EXTRUDE4_PROFILE_6_DRAFT)


with BuildPart() as body_2_6:
    add(body_2_5.part)

    # Cut-Extrude4 profile 6: cut by cut_extrude4_profile_6_tool
    add(cut_extrude4_profile_6_tool.part, mode=Mode.SUBTRACT)


with BuildPart() as cut_extrude4_profile_7_tool:
    # Sketch10 → Cut-Extrude4 profile 7 (with draft: the straight prism first)
    with BuildSketch(Plane(origin=(0, 87.3, 0), x_dir=(1, 0, 0), z_dir=(0, 1, 0))):
        with Locations(Location((130, 130, 0), (0, 0, 270))):
            Circle(SKETCH10_R)
    extrude(amount=CUT_EXTRUDE4_PROFILE_7_DEPTH)
    # Cut-Extrude4 profile 7: the draft: its side faces are tilted about the plane it starts from
    cut_extrude4_profile_7_sides = [cut_extrude4_profile_7_tool.faces().sort_by_distance(p)[0] for p in [
        (130, 88.4, -132),
    ]]
    draft(cut_extrude4_profile_7_sides, Plane(origin=(0, 87.3, 0), x_dir=(1, 0, 0), z_dir=(0, 1, 0)), CUT_EXTRUDE4_PROFILE_7_DRAFT)


with BuildPart() as body_2_7:
    add(body_2_6.part)

    # Cut-Extrude4 profile 7: cut by cut_extrude4_profile_7_tool
    add(cut_extrude4_profile_7_tool.part, mode=Mode.SUBTRACT)


with BuildPart() as cut_extrude4_profile_8_tool:
    # Sketch10 → Cut-Extrude4 profile 8 (with draft: the straight prism first)
    with BuildSketch(Plane(origin=(0, 87.3, 0), x_dir=(1, 0, 0), z_dir=(0, 1, 0))):
        with Locations(Location((230, 230, 0), (0, 0, 270))):
            Circle(SKETCH10_R)
    extrude(amount=CUT_EXTRUDE4_PROFILE_8_DEPTH)
    # Cut-Extrude4 profile 8: the draft: its side faces are tilted about the plane it starts from
    cut_extrude4_profile_8_sides = [cut_extrude4_profile_8_tool.faces().sort_by_distance(p)[0] for p in [
        (230, 88.4, -232),
    ]]
    draft(cut_extrude4_profile_8_sides, Plane(origin=(0, 87.3, 0), x_dir=(1, 0, 0), z_dir=(0, 1, 0)), CUT_EXTRUDE4_PROFILE_8_DRAFT)


with BuildPart() as body_2_8:
    add(body_2_7.part)

    # Cut-Extrude4 profile 8: cut by cut_extrude4_profile_8_tool
    add(cut_extrude4_profile_8_tool.part, mode=Mode.SUBTRACT)


with BuildPart() as cut_extrude4_profile_9_tool:
    # Sketch10 → Cut-Extrude4 profile 9 (with draft: the straight prism first)
    with BuildSketch(Plane(origin=(0, 87.3, 0), x_dir=(1, 0, 0), z_dir=(0, 1, 0))):
        with Locations(Location((0, 230, 0), (0, 0, 270))):
            Circle(SKETCH10_R)
    extrude(amount=CUT_EXTRUDE4_PROFILE_9_DEPTH)
    # Cut-Extrude4 profile 9: the draft: its side faces are tilted about the plane it starts from
    cut_extrude4_profile_9_sides = [cut_extrude4_profile_9_tool.faces().sort_by_distance(p)[0] for p in [
        (0, 88.4, -232),
    ]]
    draft(cut_extrude4_profile_9_sides, Plane(origin=(0, 87.3, 0), x_dir=(1, 0, 0), z_dir=(0, 1, 0)), CUT_EXTRUDE4_PROFILE_9_DRAFT)


with BuildPart() as body_2_9:
    add(body_2_8.part)

    # Cut-Extrude4 profile 9: cut by cut_extrude4_profile_9_tool
    add(cut_extrude4_profile_9_tool.part, mode=Mode.SUBTRACT)


with BuildPart() as cut_extrude4_profile_10_tool:
    # Sketch10 → Cut-Extrude4 profile 10 (with draft: the straight prism first)
    with BuildSketch(Plane(origin=(0, 87.3, 0), x_dir=(1, 0, 0), z_dir=(0, 1, 0))):
        with Locations(Location((-130, 130, 0), (0, 0, 270))):
            Circle(SKETCH10_R)
    extrude(amount=CUT_EXTRUDE4_PROFILE_10_DEPTH)
    # Cut-Extrude4 profile 10: the draft: its side faces are tilted about the plane it starts from
    cut_extrude4_profile_10_sides = [cut_extrude4_profile_10_tool.faces().sort_by_distance(p)[0] for p in [
        (-130, 88.4, -132),
    ]]
    draft(cut_extrude4_profile_10_sides, Plane(origin=(0, 87.3, 0), x_dir=(1, 0, 0), z_dir=(0, 1, 0)), CUT_EXTRUDE4_PROFILE_10_DRAFT)


with BuildPart() as body_2_10:
    add(body_2_9.part)

    # Cut-Extrude4 profile 10: cut by cut_extrude4_profile_10_tool
    add(cut_extrude4_profile_10_tool.part, mode=Mode.SUBTRACT)


with BuildPart() as cut_extrude4_profile_11_tool:
    # Sketch10 → Cut-Extrude4 profile 11 (with draft: the straight prism first)
    with BuildSketch(Plane(origin=(0, 87.3, 0), x_dir=(1, 0, 0), z_dir=(0, 1, 0))):
        with Locations(Location((-230, 0, 0), (0, 0, 270))):
            Circle(SKETCH10_R)
    extrude(amount=CUT_EXTRUDE4_PROFILE_11_DEPTH)
    # Cut-Extrude4 profile 11: the draft: its side faces are tilted about the plane it starts from
    cut_extrude4_profile_11_sides = [cut_extrude4_profile_11_tool.faces().sort_by_distance(p)[0] for p in [
        (-230, 88.4, -2),
    ]]
    draft(cut_extrude4_profile_11_sides, Plane(origin=(0, 87.3, 0), x_dir=(1, 0, 0), z_dir=(0, 1, 0)), CUT_EXTRUDE4_PROFILE_11_DRAFT)


with BuildPart() as body_2_11:
    add(body_2_10.part)

    # Cut-Extrude4 profile 11: cut by cut_extrude4_profile_11_tool
    add(cut_extrude4_profile_11_tool.part, mode=Mode.SUBTRACT)


with BuildPart() as cut_extrude4_profile_12_tool:
    # Sketch10 → Cut-Extrude4 profile 12 (with draft: the straight prism first)
    with BuildSketch(Plane(origin=(0, 87.3, 0), x_dir=(1, 0, 0), z_dir=(0, 1, 0))):
        with Locations(Location((-230, 230, 0), (0, 0, 270))):
            Circle(SKETCH10_R)
    extrude(amount=CUT_EXTRUDE4_PROFILE_12_DEPTH)
    # Cut-Extrude4 profile 12: the draft: its side faces are tilted about the plane it starts from
    cut_extrude4_profile_12_sides = [cut_extrude4_profile_12_tool.faces().sort_by_distance(p)[0] for p in [
        (-230, 88.4, -232),
    ]]
    draft(cut_extrude4_profile_12_sides, Plane(origin=(0, 87.3, 0), x_dir=(1, 0, 0), z_dir=(0, 1, 0)), CUT_EXTRUDE4_PROFILE_12_DRAFT)


with BuildPart() as body_2_12:
    add(body_2_11.part)

    # Cut-Extrude4 profile 12: cut by cut_extrude4_profile_12_tool
    add(cut_extrude4_profile_12_tool.part, mode=Mode.SUBTRACT)


solid = Compound([part.part, body_2_12.part])
